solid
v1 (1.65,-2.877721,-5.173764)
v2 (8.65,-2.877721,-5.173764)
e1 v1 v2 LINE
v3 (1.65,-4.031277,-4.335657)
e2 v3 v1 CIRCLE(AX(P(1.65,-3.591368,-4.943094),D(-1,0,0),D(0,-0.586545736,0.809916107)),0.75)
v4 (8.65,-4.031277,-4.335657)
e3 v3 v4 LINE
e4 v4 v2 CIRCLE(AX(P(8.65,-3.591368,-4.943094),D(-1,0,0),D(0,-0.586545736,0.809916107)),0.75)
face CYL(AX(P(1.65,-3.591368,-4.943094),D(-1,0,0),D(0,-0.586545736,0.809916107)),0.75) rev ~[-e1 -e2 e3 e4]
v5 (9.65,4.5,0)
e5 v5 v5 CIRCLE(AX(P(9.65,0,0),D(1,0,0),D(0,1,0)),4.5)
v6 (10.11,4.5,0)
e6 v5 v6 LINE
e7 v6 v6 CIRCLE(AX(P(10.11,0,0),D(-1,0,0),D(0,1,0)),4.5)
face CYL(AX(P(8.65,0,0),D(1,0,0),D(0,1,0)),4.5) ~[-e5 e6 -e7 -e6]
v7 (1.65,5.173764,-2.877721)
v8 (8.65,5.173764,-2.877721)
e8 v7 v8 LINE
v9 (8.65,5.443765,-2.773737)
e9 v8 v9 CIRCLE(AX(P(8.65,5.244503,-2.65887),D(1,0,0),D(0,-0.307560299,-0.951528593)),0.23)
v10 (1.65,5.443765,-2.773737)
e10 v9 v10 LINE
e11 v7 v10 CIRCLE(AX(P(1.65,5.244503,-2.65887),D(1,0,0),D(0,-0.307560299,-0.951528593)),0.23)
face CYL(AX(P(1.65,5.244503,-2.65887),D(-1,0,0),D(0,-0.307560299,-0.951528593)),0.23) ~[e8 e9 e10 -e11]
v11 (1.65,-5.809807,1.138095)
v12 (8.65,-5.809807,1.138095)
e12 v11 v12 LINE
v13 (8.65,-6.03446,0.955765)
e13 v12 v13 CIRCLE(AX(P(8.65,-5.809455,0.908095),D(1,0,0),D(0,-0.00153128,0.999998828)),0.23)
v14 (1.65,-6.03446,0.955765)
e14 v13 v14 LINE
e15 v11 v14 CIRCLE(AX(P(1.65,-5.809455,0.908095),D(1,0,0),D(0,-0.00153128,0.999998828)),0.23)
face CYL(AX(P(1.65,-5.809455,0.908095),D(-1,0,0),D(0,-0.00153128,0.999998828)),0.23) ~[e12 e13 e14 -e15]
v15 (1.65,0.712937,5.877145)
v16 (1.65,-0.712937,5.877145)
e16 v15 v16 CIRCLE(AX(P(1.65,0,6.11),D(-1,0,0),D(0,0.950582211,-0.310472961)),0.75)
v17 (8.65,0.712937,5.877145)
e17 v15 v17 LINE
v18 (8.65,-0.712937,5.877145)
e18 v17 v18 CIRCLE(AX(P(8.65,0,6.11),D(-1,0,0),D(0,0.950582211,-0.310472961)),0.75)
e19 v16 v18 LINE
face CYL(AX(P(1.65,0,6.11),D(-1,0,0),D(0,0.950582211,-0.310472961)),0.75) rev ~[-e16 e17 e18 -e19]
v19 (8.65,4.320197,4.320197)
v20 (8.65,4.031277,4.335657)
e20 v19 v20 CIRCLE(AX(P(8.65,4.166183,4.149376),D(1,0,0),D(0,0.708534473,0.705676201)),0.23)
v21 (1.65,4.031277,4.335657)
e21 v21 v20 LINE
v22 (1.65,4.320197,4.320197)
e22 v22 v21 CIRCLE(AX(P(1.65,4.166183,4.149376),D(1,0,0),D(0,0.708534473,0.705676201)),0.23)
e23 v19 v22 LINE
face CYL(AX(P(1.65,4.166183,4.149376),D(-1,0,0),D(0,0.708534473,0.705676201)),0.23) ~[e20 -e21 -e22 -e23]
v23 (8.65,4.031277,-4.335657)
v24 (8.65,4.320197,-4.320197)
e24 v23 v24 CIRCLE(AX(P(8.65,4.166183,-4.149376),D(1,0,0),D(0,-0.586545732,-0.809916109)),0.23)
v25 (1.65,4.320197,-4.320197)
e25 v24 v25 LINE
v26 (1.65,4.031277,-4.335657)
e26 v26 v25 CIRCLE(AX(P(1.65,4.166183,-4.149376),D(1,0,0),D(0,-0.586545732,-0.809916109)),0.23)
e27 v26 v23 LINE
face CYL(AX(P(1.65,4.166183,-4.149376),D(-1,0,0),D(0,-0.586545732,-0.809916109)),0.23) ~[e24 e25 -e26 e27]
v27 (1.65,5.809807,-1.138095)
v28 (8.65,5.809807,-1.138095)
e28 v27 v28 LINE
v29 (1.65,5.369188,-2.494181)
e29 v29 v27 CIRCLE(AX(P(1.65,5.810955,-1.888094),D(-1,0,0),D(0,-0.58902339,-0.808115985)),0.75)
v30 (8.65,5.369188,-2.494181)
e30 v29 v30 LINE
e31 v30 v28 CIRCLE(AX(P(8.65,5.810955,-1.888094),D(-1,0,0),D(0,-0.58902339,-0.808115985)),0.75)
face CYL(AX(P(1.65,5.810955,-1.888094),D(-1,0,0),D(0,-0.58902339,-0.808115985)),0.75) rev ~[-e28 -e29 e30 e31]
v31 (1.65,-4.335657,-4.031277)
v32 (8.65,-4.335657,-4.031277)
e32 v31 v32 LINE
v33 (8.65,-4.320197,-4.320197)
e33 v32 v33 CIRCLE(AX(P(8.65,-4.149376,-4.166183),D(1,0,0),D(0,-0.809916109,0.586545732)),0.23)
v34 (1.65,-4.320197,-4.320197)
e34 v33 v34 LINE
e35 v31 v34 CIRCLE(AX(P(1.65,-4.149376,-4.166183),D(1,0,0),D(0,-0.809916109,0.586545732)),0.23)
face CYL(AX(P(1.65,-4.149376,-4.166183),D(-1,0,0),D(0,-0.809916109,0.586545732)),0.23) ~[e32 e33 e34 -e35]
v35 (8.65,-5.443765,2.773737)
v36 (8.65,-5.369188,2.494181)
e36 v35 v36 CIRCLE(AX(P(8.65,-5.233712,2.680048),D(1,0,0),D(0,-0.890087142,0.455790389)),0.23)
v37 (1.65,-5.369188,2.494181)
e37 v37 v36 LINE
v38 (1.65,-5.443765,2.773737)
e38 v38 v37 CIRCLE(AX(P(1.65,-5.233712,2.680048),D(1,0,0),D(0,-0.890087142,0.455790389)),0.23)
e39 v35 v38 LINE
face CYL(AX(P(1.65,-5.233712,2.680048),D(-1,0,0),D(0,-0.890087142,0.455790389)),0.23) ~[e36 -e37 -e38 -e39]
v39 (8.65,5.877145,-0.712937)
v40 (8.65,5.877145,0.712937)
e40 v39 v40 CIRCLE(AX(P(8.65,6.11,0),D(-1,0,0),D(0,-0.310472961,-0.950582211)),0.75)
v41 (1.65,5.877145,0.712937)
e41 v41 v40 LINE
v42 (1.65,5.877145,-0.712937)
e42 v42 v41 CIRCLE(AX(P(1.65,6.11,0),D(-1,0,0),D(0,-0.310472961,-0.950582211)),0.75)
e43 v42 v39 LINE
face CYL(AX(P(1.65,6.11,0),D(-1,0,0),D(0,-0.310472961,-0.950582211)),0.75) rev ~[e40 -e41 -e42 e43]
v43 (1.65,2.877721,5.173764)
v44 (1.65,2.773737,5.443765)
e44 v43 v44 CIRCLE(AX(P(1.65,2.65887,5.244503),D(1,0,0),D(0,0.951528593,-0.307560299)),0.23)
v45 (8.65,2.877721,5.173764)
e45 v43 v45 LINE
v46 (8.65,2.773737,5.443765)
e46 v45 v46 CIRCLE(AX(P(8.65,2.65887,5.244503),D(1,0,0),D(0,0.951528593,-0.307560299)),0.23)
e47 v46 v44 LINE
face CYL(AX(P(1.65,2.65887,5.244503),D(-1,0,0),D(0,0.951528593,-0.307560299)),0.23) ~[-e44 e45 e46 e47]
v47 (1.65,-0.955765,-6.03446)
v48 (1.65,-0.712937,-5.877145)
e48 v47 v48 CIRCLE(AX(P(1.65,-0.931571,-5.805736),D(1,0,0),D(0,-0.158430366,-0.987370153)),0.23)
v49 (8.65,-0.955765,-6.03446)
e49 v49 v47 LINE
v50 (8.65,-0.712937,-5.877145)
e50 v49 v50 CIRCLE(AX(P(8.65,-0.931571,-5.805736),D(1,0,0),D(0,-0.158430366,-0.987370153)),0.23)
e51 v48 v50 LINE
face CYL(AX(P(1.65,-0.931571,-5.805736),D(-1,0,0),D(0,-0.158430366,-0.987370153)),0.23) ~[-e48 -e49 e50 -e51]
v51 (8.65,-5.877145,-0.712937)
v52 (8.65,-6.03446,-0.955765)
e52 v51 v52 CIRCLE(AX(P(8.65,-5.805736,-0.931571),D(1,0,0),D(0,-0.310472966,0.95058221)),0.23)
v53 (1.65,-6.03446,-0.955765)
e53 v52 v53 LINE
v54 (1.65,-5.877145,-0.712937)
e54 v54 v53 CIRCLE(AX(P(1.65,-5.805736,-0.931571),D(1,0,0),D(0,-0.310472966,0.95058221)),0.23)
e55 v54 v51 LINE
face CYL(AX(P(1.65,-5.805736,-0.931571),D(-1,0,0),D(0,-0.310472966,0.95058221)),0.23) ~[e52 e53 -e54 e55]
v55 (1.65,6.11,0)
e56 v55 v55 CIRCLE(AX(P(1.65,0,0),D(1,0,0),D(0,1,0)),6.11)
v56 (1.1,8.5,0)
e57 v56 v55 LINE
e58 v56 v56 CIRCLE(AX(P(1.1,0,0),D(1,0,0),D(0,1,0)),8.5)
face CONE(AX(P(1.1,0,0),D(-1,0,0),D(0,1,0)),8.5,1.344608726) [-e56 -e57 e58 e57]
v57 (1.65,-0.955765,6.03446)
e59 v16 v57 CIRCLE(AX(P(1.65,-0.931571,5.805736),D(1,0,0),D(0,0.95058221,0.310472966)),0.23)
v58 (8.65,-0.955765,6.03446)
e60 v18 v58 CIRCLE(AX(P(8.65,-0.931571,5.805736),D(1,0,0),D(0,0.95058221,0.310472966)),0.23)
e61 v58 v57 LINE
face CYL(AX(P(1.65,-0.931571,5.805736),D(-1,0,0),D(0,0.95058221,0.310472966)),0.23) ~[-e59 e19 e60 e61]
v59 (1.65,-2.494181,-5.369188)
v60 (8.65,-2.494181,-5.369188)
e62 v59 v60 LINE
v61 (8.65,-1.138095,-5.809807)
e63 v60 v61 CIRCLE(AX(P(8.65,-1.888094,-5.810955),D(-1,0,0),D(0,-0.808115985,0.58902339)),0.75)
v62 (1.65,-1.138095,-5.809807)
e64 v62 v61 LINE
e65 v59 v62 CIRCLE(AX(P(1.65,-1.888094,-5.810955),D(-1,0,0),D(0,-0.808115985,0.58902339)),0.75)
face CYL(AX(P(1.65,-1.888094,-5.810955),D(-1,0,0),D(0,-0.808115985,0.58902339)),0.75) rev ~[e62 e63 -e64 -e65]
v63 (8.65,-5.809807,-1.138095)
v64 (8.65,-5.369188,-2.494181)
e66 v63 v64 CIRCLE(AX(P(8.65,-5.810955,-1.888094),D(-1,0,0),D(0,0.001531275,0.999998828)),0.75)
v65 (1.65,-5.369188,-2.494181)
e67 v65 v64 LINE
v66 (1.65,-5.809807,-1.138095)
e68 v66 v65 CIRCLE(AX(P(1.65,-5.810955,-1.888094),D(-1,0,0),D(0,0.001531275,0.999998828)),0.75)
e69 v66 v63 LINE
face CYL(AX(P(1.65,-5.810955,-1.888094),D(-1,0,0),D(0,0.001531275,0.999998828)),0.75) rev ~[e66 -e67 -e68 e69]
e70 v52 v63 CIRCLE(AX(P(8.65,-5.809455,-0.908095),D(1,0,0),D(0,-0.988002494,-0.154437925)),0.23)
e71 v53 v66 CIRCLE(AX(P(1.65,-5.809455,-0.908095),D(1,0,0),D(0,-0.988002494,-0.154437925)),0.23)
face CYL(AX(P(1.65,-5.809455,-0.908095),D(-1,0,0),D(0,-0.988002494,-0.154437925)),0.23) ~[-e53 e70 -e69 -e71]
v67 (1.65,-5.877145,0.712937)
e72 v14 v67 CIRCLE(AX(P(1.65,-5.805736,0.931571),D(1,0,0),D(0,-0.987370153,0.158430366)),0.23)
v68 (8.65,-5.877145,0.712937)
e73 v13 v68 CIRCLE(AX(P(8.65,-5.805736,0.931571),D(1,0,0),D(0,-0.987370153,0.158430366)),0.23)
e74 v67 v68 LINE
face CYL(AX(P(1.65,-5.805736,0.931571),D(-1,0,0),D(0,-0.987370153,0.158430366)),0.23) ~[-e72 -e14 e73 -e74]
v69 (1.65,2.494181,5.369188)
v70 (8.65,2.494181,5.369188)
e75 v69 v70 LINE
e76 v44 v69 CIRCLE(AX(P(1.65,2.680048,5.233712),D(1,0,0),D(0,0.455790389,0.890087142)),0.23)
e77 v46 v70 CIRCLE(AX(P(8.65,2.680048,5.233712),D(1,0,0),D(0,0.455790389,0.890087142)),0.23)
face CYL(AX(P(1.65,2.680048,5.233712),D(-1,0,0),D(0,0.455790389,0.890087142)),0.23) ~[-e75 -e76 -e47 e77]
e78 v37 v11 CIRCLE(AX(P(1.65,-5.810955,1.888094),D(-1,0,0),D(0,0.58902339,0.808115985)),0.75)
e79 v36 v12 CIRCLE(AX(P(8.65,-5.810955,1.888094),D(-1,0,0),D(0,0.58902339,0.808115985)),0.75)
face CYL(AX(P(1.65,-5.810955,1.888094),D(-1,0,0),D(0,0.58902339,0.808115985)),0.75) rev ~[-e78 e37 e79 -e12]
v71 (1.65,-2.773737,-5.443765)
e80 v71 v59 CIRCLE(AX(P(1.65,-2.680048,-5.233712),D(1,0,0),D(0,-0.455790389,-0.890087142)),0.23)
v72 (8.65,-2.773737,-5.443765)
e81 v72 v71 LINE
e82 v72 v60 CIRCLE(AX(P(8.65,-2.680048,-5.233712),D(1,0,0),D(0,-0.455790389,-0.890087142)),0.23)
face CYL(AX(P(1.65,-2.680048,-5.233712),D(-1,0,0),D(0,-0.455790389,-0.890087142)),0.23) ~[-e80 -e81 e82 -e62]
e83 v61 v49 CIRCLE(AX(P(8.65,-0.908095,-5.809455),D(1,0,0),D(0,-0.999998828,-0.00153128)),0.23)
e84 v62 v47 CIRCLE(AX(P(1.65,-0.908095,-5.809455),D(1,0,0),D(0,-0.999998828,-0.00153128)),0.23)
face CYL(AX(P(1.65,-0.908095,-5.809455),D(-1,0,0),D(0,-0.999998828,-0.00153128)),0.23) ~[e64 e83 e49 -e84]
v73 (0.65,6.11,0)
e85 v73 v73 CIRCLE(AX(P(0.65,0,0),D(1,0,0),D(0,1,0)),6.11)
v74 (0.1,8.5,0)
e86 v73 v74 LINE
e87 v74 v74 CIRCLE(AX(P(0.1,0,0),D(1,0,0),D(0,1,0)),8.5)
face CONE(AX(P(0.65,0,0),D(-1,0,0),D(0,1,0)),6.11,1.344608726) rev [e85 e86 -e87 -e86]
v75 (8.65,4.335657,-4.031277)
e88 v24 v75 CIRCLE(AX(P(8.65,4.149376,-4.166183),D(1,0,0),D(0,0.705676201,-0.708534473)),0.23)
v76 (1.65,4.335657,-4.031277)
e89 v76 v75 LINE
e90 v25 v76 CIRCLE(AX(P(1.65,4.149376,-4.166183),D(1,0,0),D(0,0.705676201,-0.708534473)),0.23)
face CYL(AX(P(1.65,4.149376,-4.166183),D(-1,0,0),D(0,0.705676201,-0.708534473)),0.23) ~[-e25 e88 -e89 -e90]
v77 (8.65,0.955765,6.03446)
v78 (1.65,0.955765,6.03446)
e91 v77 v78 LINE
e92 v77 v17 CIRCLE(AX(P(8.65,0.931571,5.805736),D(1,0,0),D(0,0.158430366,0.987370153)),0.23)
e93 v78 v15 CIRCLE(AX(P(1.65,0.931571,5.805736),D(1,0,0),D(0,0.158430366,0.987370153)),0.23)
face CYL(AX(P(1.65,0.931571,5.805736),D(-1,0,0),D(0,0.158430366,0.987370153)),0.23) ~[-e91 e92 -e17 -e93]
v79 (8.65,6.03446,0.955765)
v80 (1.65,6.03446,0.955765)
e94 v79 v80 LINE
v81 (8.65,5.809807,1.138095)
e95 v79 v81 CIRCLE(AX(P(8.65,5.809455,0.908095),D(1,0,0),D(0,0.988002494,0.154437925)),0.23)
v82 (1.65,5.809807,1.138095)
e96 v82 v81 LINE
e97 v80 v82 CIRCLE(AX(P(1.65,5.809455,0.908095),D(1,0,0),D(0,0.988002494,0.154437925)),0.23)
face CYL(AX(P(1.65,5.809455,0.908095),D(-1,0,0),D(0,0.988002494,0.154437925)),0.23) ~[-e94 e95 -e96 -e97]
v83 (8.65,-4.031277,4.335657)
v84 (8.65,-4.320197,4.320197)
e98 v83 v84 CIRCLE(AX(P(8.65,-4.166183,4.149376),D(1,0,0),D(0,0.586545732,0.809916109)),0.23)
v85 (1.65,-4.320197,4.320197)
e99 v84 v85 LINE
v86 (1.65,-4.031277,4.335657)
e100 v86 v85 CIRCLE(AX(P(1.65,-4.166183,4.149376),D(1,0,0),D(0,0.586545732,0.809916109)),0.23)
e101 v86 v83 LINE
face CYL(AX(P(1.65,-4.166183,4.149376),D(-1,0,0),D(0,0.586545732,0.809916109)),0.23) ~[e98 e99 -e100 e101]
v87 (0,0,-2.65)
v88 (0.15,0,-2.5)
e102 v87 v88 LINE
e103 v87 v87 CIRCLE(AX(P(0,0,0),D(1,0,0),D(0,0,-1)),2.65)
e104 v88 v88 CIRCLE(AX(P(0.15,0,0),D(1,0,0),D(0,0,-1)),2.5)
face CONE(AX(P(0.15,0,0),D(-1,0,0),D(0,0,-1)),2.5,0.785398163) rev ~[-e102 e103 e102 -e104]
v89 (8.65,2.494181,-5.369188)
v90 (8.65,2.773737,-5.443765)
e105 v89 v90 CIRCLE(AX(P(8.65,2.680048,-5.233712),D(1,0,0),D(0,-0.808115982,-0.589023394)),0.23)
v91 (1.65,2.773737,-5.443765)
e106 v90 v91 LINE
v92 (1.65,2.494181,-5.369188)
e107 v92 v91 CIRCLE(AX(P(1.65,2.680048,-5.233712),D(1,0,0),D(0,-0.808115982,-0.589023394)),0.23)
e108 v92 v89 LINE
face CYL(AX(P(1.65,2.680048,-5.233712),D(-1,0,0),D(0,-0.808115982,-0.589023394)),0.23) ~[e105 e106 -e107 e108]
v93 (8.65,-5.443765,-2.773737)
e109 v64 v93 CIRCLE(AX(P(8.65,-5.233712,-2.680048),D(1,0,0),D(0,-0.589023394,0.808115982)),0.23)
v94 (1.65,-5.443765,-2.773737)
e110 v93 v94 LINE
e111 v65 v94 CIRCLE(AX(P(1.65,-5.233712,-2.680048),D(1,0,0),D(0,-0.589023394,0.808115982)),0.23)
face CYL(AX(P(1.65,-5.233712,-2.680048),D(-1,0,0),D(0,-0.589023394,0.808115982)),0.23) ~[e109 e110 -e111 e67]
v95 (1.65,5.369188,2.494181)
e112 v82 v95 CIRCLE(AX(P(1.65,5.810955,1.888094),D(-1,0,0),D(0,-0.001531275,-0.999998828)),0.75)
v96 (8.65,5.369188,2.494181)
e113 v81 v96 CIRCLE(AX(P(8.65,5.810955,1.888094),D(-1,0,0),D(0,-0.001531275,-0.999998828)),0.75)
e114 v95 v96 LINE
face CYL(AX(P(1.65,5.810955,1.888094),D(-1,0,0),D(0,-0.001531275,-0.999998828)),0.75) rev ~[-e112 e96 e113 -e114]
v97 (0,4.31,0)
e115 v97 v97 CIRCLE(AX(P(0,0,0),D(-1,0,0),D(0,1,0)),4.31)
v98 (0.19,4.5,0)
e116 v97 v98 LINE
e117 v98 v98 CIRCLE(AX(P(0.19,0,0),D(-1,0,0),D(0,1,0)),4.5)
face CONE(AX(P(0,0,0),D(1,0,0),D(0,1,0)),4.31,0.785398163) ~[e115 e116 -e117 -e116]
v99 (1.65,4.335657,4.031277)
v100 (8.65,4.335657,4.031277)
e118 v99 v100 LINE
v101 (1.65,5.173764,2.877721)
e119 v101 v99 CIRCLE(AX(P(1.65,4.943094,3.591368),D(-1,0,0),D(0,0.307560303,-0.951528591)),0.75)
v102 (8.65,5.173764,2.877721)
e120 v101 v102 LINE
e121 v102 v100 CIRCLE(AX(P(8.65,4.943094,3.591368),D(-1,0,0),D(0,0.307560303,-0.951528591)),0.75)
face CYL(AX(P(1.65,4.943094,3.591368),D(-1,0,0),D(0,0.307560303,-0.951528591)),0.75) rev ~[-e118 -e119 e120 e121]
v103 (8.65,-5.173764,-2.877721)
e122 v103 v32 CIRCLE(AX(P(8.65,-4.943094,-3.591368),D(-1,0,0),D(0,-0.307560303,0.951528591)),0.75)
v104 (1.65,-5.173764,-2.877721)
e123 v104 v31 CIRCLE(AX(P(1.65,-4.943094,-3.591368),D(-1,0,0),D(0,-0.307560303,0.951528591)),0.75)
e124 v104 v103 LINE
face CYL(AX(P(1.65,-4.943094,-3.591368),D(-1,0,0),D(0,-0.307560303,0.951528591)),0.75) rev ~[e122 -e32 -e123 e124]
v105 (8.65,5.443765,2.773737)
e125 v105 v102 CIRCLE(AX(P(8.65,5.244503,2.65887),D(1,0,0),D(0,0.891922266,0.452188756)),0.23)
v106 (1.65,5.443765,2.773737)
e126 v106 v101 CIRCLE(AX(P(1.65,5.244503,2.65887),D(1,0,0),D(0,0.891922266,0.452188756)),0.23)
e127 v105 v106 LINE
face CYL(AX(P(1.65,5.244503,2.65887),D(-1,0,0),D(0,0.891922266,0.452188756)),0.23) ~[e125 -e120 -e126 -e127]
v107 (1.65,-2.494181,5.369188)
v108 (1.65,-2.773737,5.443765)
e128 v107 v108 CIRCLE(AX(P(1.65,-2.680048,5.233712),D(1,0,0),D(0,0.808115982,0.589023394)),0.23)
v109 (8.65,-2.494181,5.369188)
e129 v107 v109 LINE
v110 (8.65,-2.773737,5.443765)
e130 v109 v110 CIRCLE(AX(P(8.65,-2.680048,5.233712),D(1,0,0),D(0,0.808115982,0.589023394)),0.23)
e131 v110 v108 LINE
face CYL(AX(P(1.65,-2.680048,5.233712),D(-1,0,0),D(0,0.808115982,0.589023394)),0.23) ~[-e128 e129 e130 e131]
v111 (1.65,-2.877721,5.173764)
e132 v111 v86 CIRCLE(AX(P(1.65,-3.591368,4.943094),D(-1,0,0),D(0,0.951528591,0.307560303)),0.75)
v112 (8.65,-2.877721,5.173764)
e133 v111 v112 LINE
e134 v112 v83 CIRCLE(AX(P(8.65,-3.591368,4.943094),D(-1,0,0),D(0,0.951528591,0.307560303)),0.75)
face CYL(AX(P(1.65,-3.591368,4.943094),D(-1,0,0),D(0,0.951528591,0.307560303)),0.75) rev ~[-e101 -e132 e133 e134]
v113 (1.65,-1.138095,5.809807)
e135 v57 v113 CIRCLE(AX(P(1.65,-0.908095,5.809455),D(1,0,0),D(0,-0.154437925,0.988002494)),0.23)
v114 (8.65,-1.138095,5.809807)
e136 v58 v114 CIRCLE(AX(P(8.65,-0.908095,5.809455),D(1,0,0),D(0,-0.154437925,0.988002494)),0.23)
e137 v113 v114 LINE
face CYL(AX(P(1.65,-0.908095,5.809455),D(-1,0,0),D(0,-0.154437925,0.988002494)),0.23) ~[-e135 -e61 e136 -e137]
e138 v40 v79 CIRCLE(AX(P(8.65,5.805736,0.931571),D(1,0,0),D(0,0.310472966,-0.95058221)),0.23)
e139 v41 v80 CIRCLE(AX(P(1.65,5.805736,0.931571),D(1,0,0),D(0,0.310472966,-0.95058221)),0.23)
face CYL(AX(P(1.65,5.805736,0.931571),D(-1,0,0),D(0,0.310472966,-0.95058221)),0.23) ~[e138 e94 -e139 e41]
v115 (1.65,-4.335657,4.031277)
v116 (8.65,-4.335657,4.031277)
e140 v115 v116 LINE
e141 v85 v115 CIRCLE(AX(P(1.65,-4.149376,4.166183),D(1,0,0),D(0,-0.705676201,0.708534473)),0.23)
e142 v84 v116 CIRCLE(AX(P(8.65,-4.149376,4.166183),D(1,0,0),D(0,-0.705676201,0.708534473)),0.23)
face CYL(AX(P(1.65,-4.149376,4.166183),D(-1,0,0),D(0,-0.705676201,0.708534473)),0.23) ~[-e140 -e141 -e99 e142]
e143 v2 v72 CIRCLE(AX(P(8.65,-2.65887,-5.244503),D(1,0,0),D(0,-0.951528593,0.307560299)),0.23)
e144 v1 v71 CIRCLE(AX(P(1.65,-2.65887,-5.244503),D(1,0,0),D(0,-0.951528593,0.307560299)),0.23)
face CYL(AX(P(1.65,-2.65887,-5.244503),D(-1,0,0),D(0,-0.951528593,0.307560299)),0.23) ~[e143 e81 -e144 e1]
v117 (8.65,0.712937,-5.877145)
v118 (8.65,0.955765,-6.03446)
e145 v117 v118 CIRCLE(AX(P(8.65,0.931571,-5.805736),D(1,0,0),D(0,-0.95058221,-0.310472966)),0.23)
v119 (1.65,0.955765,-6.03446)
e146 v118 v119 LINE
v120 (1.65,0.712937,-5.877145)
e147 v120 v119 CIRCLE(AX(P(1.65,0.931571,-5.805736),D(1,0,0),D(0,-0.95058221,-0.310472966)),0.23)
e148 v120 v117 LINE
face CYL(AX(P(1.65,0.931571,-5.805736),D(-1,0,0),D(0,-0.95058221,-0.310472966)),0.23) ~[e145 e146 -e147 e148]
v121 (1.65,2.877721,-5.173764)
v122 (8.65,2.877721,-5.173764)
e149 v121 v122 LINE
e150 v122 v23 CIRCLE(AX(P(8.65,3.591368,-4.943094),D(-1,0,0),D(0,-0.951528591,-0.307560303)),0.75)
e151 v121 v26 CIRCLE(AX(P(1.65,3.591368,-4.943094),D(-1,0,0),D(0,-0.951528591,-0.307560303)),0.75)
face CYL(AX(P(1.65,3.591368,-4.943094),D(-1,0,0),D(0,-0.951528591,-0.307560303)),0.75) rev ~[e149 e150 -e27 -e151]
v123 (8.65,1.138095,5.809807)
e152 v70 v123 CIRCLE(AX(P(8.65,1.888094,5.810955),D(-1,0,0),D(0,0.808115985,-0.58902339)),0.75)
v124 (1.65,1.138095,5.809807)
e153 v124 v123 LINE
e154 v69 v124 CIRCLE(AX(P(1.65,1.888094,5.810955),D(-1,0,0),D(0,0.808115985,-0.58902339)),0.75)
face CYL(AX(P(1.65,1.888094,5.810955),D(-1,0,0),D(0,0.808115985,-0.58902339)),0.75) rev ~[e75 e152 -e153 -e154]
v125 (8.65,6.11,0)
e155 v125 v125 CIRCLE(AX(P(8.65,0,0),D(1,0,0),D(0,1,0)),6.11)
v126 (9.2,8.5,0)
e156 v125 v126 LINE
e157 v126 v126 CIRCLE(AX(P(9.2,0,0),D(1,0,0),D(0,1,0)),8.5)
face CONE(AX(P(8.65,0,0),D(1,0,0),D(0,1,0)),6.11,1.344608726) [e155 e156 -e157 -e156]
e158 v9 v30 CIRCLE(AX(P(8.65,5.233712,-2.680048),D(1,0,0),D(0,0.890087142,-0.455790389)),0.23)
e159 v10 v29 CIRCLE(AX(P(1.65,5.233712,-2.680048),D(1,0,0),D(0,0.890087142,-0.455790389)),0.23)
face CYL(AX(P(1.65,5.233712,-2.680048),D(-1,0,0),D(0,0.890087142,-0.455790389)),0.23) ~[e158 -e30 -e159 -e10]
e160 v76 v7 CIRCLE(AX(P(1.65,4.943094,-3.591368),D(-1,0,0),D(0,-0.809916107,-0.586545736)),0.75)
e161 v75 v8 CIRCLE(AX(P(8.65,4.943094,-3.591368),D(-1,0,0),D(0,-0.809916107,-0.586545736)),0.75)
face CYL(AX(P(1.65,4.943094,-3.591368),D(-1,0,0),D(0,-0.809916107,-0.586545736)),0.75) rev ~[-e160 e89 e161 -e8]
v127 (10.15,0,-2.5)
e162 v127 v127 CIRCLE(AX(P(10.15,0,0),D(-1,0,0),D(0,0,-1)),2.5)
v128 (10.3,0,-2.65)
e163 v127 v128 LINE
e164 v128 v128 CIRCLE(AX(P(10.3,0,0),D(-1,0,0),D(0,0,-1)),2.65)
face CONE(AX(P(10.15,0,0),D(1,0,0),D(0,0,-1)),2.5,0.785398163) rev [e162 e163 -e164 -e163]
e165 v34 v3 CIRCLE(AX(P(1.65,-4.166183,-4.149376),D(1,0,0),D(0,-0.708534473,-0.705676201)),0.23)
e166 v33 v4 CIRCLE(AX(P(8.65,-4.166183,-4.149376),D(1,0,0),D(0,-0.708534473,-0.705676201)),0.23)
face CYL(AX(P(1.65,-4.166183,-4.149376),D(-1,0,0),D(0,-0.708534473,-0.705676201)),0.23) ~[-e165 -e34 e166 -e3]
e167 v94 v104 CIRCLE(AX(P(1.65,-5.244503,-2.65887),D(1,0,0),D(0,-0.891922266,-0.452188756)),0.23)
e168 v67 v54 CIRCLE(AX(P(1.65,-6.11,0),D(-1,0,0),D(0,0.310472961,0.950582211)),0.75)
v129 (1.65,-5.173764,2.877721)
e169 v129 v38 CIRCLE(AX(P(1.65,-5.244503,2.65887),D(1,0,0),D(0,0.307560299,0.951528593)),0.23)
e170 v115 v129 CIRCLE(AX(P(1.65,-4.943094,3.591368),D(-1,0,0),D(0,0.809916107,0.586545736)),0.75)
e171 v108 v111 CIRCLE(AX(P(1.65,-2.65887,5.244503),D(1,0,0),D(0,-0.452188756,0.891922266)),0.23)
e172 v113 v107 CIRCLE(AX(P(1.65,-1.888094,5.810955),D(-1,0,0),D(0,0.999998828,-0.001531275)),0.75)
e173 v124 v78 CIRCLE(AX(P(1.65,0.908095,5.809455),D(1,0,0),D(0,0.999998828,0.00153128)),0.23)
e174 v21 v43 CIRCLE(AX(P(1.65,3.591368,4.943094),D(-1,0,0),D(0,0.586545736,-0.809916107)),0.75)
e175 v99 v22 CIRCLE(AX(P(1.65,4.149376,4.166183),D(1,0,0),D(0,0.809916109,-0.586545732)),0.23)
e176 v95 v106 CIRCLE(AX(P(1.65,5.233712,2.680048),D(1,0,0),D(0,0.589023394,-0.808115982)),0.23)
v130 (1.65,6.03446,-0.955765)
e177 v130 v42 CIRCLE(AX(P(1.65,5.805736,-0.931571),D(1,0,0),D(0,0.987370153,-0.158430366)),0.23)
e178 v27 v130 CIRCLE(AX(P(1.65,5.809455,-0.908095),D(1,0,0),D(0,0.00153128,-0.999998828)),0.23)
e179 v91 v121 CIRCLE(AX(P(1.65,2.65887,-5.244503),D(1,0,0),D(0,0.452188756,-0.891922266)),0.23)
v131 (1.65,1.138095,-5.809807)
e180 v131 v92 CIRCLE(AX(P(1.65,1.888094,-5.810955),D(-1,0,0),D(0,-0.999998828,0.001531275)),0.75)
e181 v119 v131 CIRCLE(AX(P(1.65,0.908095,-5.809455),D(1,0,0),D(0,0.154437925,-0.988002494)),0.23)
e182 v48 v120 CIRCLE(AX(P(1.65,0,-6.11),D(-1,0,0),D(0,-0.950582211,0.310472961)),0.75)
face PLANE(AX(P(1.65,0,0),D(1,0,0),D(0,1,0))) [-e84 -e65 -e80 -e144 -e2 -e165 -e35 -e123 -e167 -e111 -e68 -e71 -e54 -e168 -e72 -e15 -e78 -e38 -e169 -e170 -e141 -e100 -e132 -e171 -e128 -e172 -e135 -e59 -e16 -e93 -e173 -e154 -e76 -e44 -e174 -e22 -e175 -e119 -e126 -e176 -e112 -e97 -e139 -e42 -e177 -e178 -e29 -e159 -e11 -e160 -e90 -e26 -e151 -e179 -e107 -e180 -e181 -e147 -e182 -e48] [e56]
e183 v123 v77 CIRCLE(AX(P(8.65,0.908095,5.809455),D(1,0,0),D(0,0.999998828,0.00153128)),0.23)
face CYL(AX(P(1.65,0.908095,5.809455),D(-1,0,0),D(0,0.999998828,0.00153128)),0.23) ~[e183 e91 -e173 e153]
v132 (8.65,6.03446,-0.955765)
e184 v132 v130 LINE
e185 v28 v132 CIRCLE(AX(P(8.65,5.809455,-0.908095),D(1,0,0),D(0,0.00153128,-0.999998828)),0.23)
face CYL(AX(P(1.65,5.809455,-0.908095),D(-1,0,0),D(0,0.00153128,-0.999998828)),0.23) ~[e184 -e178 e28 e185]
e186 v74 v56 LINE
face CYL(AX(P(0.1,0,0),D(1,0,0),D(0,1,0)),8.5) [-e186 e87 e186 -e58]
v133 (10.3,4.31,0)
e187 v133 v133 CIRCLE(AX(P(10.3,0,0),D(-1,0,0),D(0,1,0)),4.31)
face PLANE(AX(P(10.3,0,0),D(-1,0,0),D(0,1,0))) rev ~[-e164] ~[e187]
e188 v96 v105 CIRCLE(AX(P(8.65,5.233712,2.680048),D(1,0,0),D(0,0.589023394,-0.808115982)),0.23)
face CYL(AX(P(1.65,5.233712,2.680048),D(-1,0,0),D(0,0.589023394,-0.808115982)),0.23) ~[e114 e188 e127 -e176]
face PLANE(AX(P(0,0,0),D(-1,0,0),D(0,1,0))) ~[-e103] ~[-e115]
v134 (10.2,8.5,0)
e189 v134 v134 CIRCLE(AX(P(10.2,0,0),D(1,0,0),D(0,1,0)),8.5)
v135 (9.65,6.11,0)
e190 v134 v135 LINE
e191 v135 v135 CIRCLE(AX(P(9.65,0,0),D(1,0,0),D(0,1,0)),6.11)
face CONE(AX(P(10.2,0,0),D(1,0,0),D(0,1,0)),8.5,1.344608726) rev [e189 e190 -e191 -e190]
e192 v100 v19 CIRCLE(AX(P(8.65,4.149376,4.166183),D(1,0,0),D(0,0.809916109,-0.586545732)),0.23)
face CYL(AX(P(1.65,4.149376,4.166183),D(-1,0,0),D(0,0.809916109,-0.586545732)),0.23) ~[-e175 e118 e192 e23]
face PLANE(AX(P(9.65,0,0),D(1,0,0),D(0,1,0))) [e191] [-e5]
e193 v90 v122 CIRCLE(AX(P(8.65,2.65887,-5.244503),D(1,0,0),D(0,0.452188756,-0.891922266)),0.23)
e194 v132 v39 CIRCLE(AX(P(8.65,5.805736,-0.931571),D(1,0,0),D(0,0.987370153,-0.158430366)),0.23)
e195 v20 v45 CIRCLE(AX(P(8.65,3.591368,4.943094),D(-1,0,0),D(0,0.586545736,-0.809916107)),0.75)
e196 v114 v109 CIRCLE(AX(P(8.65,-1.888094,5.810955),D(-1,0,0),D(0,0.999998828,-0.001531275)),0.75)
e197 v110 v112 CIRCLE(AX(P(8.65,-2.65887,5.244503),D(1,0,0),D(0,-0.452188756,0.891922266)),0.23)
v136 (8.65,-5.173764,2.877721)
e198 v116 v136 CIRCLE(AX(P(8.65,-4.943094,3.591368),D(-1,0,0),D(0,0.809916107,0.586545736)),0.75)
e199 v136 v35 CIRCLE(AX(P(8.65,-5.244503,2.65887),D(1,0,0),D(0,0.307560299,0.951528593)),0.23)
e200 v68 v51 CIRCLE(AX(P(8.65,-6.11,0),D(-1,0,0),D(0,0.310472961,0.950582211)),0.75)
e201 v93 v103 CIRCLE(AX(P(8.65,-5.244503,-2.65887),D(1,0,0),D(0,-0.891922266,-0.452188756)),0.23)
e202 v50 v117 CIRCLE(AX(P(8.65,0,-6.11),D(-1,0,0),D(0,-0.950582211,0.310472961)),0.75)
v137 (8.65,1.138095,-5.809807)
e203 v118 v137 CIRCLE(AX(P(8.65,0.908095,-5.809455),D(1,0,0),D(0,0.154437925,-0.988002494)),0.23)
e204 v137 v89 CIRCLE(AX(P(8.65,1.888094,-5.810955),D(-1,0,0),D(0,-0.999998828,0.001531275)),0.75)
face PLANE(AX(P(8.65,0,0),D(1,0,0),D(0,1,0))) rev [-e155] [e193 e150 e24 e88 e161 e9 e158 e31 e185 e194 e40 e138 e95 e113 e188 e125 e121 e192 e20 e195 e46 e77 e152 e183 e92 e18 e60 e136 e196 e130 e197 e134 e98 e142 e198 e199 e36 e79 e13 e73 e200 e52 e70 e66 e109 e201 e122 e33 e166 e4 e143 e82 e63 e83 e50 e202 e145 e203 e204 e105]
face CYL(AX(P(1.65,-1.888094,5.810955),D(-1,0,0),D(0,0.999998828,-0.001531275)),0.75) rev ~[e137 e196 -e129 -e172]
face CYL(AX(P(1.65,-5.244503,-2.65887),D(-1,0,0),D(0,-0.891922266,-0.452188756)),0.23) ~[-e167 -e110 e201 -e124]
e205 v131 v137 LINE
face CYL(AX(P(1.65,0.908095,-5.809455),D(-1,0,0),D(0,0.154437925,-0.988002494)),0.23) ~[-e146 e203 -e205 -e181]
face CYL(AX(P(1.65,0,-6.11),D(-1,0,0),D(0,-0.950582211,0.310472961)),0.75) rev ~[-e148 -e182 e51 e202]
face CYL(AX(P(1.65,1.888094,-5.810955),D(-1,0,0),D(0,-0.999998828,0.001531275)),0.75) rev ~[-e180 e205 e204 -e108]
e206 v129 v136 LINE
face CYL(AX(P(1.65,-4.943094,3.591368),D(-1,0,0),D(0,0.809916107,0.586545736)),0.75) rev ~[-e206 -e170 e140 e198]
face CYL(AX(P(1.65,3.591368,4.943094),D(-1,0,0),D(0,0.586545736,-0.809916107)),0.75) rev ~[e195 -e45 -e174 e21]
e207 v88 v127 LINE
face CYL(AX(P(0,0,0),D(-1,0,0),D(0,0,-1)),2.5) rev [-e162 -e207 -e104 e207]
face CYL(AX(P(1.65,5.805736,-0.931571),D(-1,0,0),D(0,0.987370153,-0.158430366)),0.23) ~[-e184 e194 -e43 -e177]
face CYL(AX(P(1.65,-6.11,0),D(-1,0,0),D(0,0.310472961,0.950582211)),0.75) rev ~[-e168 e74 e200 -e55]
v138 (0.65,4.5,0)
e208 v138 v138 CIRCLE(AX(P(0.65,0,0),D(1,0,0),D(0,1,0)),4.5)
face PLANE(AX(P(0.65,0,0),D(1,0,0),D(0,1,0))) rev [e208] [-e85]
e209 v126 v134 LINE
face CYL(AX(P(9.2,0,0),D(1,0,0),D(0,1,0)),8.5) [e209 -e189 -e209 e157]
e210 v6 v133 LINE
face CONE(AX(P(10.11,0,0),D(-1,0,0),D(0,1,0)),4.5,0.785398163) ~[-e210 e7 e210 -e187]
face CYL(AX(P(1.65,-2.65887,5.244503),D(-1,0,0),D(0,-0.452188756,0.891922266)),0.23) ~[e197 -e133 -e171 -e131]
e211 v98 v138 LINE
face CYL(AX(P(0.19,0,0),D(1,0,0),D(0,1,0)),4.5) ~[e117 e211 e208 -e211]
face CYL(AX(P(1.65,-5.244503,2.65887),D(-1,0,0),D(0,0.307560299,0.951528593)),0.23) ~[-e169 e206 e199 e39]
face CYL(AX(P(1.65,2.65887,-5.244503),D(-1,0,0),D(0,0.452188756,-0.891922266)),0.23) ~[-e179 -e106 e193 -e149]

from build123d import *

# Parameters (mm, degrees)
CUT_EXTRUDE_START        = 1.65
CUT_EXTRUDE_1_DEPTH      = 7
PATTERN_CIRCULAR_1_COUNT = 20
SKETCH_6_R               = 2.5
CUT_EXTRUDE_2_DEPTH      = 11.3
CHAMFER_1_SIZE           = 0.15


with BuildPart() as part:
    # Sketch 3 → Revolve 1 (revolve)
    with BuildSketch(Plane.XY):
        Polygon((0, 0), (0, 4.31), (0.19, 4.5), (1.65, 4.5), (1.65, 6.11), (8.65, 6.11), (8.65, 4.5), (10.11, 4.5), (10.3, 4.31), (10.3, 0), align=None)
    revolve(axis=Axis((10.3, 0, 0), (-1, 0, 0)))

    # Sketch 4 → Cut-Extrude 1 (cut)
    with BuildSketch(Plane(origin=(0, 0, 0), x_dir=(0, 0, -1), z_dir=(1, 0, 0)).offset(CUT_EXTRUDE_START)):
        with BuildLine():
            ThreePointArc((0.968009552, 6.032831633), (0.81174441, 6.002056879), (0.712936658, 5.877145279))
            ThreePointArc((0.712936658, 5.877145279), (0, 5.36), (-0.712936658, 5.877145279))
            ThreePointArc((-0.712936658, 5.877145279), (-0.81174441, 6.002056879), (-0.968009552, 6.032831633))
            ThreePointArc((-0.968009552, 6.032831633), (0, 6.11), (0.968009552, 6.032831633))
        make_face()
    cut_extrude_1 = extrude(amount=CUT_EXTRUDE_1_DEPTH, mode=Mode.SUBTRACT)

    # Pattern Circular 1: Cut-Extrude 1 ×20 about axis
    pattern_circular_1_axis = Axis((0, 0, 0), (1, 0, 0))
    for i in range(1, PATTERN_CIRCULAR_1_COUNT):
        add(cut_extrude_1.rotate(pattern_circular_1_axis, i * 360 / PATTERN_CIRCULAR_1_COUNT), mode=Mode.SUBTRACT)

    # Sketch 5 → Revolve 2 (revolve)
    with BuildSketch(Plane.XY):
        Polygon((1.1, 8.5), (1.65, 6.11), (1.65, 4.5), (0.65, 4.5), (0.65, 6.11), (0.1, 8.5), align=None)
        Polygon((9.65, 4.5), (8.65, 4.5), (8.65, 6.11), (9.2, 8.5), (10.2, 8.5), (9.65, 6.11), align=None)
    revolve(axis=Axis((0, 0, 0), (1, 0, 0)))

    # Sketch 6 → Cut-Extrude 2 (cut, through all)
    with BuildSketch(Plane(origin=(0, 0, 0), x_dir=(0, 0, -1), z_dir=(1, 0, 0))):
        Circle(SKETCH_6_R)
    extrude(amount=CUT_EXTRUDE_2_DEPTH, mode=Mode.SUBTRACT)

    # Chamfer 1
    chamfer_1_edges = [part.edges().sort_by_distance(p)[0] for p in [
        (0, 0, 2.5),
        (10.3, 0, 2.5),
    ]]
    chamfer(chamfer_1_edges, length=CHAMFER_1_SIZE)


solid = part.part
